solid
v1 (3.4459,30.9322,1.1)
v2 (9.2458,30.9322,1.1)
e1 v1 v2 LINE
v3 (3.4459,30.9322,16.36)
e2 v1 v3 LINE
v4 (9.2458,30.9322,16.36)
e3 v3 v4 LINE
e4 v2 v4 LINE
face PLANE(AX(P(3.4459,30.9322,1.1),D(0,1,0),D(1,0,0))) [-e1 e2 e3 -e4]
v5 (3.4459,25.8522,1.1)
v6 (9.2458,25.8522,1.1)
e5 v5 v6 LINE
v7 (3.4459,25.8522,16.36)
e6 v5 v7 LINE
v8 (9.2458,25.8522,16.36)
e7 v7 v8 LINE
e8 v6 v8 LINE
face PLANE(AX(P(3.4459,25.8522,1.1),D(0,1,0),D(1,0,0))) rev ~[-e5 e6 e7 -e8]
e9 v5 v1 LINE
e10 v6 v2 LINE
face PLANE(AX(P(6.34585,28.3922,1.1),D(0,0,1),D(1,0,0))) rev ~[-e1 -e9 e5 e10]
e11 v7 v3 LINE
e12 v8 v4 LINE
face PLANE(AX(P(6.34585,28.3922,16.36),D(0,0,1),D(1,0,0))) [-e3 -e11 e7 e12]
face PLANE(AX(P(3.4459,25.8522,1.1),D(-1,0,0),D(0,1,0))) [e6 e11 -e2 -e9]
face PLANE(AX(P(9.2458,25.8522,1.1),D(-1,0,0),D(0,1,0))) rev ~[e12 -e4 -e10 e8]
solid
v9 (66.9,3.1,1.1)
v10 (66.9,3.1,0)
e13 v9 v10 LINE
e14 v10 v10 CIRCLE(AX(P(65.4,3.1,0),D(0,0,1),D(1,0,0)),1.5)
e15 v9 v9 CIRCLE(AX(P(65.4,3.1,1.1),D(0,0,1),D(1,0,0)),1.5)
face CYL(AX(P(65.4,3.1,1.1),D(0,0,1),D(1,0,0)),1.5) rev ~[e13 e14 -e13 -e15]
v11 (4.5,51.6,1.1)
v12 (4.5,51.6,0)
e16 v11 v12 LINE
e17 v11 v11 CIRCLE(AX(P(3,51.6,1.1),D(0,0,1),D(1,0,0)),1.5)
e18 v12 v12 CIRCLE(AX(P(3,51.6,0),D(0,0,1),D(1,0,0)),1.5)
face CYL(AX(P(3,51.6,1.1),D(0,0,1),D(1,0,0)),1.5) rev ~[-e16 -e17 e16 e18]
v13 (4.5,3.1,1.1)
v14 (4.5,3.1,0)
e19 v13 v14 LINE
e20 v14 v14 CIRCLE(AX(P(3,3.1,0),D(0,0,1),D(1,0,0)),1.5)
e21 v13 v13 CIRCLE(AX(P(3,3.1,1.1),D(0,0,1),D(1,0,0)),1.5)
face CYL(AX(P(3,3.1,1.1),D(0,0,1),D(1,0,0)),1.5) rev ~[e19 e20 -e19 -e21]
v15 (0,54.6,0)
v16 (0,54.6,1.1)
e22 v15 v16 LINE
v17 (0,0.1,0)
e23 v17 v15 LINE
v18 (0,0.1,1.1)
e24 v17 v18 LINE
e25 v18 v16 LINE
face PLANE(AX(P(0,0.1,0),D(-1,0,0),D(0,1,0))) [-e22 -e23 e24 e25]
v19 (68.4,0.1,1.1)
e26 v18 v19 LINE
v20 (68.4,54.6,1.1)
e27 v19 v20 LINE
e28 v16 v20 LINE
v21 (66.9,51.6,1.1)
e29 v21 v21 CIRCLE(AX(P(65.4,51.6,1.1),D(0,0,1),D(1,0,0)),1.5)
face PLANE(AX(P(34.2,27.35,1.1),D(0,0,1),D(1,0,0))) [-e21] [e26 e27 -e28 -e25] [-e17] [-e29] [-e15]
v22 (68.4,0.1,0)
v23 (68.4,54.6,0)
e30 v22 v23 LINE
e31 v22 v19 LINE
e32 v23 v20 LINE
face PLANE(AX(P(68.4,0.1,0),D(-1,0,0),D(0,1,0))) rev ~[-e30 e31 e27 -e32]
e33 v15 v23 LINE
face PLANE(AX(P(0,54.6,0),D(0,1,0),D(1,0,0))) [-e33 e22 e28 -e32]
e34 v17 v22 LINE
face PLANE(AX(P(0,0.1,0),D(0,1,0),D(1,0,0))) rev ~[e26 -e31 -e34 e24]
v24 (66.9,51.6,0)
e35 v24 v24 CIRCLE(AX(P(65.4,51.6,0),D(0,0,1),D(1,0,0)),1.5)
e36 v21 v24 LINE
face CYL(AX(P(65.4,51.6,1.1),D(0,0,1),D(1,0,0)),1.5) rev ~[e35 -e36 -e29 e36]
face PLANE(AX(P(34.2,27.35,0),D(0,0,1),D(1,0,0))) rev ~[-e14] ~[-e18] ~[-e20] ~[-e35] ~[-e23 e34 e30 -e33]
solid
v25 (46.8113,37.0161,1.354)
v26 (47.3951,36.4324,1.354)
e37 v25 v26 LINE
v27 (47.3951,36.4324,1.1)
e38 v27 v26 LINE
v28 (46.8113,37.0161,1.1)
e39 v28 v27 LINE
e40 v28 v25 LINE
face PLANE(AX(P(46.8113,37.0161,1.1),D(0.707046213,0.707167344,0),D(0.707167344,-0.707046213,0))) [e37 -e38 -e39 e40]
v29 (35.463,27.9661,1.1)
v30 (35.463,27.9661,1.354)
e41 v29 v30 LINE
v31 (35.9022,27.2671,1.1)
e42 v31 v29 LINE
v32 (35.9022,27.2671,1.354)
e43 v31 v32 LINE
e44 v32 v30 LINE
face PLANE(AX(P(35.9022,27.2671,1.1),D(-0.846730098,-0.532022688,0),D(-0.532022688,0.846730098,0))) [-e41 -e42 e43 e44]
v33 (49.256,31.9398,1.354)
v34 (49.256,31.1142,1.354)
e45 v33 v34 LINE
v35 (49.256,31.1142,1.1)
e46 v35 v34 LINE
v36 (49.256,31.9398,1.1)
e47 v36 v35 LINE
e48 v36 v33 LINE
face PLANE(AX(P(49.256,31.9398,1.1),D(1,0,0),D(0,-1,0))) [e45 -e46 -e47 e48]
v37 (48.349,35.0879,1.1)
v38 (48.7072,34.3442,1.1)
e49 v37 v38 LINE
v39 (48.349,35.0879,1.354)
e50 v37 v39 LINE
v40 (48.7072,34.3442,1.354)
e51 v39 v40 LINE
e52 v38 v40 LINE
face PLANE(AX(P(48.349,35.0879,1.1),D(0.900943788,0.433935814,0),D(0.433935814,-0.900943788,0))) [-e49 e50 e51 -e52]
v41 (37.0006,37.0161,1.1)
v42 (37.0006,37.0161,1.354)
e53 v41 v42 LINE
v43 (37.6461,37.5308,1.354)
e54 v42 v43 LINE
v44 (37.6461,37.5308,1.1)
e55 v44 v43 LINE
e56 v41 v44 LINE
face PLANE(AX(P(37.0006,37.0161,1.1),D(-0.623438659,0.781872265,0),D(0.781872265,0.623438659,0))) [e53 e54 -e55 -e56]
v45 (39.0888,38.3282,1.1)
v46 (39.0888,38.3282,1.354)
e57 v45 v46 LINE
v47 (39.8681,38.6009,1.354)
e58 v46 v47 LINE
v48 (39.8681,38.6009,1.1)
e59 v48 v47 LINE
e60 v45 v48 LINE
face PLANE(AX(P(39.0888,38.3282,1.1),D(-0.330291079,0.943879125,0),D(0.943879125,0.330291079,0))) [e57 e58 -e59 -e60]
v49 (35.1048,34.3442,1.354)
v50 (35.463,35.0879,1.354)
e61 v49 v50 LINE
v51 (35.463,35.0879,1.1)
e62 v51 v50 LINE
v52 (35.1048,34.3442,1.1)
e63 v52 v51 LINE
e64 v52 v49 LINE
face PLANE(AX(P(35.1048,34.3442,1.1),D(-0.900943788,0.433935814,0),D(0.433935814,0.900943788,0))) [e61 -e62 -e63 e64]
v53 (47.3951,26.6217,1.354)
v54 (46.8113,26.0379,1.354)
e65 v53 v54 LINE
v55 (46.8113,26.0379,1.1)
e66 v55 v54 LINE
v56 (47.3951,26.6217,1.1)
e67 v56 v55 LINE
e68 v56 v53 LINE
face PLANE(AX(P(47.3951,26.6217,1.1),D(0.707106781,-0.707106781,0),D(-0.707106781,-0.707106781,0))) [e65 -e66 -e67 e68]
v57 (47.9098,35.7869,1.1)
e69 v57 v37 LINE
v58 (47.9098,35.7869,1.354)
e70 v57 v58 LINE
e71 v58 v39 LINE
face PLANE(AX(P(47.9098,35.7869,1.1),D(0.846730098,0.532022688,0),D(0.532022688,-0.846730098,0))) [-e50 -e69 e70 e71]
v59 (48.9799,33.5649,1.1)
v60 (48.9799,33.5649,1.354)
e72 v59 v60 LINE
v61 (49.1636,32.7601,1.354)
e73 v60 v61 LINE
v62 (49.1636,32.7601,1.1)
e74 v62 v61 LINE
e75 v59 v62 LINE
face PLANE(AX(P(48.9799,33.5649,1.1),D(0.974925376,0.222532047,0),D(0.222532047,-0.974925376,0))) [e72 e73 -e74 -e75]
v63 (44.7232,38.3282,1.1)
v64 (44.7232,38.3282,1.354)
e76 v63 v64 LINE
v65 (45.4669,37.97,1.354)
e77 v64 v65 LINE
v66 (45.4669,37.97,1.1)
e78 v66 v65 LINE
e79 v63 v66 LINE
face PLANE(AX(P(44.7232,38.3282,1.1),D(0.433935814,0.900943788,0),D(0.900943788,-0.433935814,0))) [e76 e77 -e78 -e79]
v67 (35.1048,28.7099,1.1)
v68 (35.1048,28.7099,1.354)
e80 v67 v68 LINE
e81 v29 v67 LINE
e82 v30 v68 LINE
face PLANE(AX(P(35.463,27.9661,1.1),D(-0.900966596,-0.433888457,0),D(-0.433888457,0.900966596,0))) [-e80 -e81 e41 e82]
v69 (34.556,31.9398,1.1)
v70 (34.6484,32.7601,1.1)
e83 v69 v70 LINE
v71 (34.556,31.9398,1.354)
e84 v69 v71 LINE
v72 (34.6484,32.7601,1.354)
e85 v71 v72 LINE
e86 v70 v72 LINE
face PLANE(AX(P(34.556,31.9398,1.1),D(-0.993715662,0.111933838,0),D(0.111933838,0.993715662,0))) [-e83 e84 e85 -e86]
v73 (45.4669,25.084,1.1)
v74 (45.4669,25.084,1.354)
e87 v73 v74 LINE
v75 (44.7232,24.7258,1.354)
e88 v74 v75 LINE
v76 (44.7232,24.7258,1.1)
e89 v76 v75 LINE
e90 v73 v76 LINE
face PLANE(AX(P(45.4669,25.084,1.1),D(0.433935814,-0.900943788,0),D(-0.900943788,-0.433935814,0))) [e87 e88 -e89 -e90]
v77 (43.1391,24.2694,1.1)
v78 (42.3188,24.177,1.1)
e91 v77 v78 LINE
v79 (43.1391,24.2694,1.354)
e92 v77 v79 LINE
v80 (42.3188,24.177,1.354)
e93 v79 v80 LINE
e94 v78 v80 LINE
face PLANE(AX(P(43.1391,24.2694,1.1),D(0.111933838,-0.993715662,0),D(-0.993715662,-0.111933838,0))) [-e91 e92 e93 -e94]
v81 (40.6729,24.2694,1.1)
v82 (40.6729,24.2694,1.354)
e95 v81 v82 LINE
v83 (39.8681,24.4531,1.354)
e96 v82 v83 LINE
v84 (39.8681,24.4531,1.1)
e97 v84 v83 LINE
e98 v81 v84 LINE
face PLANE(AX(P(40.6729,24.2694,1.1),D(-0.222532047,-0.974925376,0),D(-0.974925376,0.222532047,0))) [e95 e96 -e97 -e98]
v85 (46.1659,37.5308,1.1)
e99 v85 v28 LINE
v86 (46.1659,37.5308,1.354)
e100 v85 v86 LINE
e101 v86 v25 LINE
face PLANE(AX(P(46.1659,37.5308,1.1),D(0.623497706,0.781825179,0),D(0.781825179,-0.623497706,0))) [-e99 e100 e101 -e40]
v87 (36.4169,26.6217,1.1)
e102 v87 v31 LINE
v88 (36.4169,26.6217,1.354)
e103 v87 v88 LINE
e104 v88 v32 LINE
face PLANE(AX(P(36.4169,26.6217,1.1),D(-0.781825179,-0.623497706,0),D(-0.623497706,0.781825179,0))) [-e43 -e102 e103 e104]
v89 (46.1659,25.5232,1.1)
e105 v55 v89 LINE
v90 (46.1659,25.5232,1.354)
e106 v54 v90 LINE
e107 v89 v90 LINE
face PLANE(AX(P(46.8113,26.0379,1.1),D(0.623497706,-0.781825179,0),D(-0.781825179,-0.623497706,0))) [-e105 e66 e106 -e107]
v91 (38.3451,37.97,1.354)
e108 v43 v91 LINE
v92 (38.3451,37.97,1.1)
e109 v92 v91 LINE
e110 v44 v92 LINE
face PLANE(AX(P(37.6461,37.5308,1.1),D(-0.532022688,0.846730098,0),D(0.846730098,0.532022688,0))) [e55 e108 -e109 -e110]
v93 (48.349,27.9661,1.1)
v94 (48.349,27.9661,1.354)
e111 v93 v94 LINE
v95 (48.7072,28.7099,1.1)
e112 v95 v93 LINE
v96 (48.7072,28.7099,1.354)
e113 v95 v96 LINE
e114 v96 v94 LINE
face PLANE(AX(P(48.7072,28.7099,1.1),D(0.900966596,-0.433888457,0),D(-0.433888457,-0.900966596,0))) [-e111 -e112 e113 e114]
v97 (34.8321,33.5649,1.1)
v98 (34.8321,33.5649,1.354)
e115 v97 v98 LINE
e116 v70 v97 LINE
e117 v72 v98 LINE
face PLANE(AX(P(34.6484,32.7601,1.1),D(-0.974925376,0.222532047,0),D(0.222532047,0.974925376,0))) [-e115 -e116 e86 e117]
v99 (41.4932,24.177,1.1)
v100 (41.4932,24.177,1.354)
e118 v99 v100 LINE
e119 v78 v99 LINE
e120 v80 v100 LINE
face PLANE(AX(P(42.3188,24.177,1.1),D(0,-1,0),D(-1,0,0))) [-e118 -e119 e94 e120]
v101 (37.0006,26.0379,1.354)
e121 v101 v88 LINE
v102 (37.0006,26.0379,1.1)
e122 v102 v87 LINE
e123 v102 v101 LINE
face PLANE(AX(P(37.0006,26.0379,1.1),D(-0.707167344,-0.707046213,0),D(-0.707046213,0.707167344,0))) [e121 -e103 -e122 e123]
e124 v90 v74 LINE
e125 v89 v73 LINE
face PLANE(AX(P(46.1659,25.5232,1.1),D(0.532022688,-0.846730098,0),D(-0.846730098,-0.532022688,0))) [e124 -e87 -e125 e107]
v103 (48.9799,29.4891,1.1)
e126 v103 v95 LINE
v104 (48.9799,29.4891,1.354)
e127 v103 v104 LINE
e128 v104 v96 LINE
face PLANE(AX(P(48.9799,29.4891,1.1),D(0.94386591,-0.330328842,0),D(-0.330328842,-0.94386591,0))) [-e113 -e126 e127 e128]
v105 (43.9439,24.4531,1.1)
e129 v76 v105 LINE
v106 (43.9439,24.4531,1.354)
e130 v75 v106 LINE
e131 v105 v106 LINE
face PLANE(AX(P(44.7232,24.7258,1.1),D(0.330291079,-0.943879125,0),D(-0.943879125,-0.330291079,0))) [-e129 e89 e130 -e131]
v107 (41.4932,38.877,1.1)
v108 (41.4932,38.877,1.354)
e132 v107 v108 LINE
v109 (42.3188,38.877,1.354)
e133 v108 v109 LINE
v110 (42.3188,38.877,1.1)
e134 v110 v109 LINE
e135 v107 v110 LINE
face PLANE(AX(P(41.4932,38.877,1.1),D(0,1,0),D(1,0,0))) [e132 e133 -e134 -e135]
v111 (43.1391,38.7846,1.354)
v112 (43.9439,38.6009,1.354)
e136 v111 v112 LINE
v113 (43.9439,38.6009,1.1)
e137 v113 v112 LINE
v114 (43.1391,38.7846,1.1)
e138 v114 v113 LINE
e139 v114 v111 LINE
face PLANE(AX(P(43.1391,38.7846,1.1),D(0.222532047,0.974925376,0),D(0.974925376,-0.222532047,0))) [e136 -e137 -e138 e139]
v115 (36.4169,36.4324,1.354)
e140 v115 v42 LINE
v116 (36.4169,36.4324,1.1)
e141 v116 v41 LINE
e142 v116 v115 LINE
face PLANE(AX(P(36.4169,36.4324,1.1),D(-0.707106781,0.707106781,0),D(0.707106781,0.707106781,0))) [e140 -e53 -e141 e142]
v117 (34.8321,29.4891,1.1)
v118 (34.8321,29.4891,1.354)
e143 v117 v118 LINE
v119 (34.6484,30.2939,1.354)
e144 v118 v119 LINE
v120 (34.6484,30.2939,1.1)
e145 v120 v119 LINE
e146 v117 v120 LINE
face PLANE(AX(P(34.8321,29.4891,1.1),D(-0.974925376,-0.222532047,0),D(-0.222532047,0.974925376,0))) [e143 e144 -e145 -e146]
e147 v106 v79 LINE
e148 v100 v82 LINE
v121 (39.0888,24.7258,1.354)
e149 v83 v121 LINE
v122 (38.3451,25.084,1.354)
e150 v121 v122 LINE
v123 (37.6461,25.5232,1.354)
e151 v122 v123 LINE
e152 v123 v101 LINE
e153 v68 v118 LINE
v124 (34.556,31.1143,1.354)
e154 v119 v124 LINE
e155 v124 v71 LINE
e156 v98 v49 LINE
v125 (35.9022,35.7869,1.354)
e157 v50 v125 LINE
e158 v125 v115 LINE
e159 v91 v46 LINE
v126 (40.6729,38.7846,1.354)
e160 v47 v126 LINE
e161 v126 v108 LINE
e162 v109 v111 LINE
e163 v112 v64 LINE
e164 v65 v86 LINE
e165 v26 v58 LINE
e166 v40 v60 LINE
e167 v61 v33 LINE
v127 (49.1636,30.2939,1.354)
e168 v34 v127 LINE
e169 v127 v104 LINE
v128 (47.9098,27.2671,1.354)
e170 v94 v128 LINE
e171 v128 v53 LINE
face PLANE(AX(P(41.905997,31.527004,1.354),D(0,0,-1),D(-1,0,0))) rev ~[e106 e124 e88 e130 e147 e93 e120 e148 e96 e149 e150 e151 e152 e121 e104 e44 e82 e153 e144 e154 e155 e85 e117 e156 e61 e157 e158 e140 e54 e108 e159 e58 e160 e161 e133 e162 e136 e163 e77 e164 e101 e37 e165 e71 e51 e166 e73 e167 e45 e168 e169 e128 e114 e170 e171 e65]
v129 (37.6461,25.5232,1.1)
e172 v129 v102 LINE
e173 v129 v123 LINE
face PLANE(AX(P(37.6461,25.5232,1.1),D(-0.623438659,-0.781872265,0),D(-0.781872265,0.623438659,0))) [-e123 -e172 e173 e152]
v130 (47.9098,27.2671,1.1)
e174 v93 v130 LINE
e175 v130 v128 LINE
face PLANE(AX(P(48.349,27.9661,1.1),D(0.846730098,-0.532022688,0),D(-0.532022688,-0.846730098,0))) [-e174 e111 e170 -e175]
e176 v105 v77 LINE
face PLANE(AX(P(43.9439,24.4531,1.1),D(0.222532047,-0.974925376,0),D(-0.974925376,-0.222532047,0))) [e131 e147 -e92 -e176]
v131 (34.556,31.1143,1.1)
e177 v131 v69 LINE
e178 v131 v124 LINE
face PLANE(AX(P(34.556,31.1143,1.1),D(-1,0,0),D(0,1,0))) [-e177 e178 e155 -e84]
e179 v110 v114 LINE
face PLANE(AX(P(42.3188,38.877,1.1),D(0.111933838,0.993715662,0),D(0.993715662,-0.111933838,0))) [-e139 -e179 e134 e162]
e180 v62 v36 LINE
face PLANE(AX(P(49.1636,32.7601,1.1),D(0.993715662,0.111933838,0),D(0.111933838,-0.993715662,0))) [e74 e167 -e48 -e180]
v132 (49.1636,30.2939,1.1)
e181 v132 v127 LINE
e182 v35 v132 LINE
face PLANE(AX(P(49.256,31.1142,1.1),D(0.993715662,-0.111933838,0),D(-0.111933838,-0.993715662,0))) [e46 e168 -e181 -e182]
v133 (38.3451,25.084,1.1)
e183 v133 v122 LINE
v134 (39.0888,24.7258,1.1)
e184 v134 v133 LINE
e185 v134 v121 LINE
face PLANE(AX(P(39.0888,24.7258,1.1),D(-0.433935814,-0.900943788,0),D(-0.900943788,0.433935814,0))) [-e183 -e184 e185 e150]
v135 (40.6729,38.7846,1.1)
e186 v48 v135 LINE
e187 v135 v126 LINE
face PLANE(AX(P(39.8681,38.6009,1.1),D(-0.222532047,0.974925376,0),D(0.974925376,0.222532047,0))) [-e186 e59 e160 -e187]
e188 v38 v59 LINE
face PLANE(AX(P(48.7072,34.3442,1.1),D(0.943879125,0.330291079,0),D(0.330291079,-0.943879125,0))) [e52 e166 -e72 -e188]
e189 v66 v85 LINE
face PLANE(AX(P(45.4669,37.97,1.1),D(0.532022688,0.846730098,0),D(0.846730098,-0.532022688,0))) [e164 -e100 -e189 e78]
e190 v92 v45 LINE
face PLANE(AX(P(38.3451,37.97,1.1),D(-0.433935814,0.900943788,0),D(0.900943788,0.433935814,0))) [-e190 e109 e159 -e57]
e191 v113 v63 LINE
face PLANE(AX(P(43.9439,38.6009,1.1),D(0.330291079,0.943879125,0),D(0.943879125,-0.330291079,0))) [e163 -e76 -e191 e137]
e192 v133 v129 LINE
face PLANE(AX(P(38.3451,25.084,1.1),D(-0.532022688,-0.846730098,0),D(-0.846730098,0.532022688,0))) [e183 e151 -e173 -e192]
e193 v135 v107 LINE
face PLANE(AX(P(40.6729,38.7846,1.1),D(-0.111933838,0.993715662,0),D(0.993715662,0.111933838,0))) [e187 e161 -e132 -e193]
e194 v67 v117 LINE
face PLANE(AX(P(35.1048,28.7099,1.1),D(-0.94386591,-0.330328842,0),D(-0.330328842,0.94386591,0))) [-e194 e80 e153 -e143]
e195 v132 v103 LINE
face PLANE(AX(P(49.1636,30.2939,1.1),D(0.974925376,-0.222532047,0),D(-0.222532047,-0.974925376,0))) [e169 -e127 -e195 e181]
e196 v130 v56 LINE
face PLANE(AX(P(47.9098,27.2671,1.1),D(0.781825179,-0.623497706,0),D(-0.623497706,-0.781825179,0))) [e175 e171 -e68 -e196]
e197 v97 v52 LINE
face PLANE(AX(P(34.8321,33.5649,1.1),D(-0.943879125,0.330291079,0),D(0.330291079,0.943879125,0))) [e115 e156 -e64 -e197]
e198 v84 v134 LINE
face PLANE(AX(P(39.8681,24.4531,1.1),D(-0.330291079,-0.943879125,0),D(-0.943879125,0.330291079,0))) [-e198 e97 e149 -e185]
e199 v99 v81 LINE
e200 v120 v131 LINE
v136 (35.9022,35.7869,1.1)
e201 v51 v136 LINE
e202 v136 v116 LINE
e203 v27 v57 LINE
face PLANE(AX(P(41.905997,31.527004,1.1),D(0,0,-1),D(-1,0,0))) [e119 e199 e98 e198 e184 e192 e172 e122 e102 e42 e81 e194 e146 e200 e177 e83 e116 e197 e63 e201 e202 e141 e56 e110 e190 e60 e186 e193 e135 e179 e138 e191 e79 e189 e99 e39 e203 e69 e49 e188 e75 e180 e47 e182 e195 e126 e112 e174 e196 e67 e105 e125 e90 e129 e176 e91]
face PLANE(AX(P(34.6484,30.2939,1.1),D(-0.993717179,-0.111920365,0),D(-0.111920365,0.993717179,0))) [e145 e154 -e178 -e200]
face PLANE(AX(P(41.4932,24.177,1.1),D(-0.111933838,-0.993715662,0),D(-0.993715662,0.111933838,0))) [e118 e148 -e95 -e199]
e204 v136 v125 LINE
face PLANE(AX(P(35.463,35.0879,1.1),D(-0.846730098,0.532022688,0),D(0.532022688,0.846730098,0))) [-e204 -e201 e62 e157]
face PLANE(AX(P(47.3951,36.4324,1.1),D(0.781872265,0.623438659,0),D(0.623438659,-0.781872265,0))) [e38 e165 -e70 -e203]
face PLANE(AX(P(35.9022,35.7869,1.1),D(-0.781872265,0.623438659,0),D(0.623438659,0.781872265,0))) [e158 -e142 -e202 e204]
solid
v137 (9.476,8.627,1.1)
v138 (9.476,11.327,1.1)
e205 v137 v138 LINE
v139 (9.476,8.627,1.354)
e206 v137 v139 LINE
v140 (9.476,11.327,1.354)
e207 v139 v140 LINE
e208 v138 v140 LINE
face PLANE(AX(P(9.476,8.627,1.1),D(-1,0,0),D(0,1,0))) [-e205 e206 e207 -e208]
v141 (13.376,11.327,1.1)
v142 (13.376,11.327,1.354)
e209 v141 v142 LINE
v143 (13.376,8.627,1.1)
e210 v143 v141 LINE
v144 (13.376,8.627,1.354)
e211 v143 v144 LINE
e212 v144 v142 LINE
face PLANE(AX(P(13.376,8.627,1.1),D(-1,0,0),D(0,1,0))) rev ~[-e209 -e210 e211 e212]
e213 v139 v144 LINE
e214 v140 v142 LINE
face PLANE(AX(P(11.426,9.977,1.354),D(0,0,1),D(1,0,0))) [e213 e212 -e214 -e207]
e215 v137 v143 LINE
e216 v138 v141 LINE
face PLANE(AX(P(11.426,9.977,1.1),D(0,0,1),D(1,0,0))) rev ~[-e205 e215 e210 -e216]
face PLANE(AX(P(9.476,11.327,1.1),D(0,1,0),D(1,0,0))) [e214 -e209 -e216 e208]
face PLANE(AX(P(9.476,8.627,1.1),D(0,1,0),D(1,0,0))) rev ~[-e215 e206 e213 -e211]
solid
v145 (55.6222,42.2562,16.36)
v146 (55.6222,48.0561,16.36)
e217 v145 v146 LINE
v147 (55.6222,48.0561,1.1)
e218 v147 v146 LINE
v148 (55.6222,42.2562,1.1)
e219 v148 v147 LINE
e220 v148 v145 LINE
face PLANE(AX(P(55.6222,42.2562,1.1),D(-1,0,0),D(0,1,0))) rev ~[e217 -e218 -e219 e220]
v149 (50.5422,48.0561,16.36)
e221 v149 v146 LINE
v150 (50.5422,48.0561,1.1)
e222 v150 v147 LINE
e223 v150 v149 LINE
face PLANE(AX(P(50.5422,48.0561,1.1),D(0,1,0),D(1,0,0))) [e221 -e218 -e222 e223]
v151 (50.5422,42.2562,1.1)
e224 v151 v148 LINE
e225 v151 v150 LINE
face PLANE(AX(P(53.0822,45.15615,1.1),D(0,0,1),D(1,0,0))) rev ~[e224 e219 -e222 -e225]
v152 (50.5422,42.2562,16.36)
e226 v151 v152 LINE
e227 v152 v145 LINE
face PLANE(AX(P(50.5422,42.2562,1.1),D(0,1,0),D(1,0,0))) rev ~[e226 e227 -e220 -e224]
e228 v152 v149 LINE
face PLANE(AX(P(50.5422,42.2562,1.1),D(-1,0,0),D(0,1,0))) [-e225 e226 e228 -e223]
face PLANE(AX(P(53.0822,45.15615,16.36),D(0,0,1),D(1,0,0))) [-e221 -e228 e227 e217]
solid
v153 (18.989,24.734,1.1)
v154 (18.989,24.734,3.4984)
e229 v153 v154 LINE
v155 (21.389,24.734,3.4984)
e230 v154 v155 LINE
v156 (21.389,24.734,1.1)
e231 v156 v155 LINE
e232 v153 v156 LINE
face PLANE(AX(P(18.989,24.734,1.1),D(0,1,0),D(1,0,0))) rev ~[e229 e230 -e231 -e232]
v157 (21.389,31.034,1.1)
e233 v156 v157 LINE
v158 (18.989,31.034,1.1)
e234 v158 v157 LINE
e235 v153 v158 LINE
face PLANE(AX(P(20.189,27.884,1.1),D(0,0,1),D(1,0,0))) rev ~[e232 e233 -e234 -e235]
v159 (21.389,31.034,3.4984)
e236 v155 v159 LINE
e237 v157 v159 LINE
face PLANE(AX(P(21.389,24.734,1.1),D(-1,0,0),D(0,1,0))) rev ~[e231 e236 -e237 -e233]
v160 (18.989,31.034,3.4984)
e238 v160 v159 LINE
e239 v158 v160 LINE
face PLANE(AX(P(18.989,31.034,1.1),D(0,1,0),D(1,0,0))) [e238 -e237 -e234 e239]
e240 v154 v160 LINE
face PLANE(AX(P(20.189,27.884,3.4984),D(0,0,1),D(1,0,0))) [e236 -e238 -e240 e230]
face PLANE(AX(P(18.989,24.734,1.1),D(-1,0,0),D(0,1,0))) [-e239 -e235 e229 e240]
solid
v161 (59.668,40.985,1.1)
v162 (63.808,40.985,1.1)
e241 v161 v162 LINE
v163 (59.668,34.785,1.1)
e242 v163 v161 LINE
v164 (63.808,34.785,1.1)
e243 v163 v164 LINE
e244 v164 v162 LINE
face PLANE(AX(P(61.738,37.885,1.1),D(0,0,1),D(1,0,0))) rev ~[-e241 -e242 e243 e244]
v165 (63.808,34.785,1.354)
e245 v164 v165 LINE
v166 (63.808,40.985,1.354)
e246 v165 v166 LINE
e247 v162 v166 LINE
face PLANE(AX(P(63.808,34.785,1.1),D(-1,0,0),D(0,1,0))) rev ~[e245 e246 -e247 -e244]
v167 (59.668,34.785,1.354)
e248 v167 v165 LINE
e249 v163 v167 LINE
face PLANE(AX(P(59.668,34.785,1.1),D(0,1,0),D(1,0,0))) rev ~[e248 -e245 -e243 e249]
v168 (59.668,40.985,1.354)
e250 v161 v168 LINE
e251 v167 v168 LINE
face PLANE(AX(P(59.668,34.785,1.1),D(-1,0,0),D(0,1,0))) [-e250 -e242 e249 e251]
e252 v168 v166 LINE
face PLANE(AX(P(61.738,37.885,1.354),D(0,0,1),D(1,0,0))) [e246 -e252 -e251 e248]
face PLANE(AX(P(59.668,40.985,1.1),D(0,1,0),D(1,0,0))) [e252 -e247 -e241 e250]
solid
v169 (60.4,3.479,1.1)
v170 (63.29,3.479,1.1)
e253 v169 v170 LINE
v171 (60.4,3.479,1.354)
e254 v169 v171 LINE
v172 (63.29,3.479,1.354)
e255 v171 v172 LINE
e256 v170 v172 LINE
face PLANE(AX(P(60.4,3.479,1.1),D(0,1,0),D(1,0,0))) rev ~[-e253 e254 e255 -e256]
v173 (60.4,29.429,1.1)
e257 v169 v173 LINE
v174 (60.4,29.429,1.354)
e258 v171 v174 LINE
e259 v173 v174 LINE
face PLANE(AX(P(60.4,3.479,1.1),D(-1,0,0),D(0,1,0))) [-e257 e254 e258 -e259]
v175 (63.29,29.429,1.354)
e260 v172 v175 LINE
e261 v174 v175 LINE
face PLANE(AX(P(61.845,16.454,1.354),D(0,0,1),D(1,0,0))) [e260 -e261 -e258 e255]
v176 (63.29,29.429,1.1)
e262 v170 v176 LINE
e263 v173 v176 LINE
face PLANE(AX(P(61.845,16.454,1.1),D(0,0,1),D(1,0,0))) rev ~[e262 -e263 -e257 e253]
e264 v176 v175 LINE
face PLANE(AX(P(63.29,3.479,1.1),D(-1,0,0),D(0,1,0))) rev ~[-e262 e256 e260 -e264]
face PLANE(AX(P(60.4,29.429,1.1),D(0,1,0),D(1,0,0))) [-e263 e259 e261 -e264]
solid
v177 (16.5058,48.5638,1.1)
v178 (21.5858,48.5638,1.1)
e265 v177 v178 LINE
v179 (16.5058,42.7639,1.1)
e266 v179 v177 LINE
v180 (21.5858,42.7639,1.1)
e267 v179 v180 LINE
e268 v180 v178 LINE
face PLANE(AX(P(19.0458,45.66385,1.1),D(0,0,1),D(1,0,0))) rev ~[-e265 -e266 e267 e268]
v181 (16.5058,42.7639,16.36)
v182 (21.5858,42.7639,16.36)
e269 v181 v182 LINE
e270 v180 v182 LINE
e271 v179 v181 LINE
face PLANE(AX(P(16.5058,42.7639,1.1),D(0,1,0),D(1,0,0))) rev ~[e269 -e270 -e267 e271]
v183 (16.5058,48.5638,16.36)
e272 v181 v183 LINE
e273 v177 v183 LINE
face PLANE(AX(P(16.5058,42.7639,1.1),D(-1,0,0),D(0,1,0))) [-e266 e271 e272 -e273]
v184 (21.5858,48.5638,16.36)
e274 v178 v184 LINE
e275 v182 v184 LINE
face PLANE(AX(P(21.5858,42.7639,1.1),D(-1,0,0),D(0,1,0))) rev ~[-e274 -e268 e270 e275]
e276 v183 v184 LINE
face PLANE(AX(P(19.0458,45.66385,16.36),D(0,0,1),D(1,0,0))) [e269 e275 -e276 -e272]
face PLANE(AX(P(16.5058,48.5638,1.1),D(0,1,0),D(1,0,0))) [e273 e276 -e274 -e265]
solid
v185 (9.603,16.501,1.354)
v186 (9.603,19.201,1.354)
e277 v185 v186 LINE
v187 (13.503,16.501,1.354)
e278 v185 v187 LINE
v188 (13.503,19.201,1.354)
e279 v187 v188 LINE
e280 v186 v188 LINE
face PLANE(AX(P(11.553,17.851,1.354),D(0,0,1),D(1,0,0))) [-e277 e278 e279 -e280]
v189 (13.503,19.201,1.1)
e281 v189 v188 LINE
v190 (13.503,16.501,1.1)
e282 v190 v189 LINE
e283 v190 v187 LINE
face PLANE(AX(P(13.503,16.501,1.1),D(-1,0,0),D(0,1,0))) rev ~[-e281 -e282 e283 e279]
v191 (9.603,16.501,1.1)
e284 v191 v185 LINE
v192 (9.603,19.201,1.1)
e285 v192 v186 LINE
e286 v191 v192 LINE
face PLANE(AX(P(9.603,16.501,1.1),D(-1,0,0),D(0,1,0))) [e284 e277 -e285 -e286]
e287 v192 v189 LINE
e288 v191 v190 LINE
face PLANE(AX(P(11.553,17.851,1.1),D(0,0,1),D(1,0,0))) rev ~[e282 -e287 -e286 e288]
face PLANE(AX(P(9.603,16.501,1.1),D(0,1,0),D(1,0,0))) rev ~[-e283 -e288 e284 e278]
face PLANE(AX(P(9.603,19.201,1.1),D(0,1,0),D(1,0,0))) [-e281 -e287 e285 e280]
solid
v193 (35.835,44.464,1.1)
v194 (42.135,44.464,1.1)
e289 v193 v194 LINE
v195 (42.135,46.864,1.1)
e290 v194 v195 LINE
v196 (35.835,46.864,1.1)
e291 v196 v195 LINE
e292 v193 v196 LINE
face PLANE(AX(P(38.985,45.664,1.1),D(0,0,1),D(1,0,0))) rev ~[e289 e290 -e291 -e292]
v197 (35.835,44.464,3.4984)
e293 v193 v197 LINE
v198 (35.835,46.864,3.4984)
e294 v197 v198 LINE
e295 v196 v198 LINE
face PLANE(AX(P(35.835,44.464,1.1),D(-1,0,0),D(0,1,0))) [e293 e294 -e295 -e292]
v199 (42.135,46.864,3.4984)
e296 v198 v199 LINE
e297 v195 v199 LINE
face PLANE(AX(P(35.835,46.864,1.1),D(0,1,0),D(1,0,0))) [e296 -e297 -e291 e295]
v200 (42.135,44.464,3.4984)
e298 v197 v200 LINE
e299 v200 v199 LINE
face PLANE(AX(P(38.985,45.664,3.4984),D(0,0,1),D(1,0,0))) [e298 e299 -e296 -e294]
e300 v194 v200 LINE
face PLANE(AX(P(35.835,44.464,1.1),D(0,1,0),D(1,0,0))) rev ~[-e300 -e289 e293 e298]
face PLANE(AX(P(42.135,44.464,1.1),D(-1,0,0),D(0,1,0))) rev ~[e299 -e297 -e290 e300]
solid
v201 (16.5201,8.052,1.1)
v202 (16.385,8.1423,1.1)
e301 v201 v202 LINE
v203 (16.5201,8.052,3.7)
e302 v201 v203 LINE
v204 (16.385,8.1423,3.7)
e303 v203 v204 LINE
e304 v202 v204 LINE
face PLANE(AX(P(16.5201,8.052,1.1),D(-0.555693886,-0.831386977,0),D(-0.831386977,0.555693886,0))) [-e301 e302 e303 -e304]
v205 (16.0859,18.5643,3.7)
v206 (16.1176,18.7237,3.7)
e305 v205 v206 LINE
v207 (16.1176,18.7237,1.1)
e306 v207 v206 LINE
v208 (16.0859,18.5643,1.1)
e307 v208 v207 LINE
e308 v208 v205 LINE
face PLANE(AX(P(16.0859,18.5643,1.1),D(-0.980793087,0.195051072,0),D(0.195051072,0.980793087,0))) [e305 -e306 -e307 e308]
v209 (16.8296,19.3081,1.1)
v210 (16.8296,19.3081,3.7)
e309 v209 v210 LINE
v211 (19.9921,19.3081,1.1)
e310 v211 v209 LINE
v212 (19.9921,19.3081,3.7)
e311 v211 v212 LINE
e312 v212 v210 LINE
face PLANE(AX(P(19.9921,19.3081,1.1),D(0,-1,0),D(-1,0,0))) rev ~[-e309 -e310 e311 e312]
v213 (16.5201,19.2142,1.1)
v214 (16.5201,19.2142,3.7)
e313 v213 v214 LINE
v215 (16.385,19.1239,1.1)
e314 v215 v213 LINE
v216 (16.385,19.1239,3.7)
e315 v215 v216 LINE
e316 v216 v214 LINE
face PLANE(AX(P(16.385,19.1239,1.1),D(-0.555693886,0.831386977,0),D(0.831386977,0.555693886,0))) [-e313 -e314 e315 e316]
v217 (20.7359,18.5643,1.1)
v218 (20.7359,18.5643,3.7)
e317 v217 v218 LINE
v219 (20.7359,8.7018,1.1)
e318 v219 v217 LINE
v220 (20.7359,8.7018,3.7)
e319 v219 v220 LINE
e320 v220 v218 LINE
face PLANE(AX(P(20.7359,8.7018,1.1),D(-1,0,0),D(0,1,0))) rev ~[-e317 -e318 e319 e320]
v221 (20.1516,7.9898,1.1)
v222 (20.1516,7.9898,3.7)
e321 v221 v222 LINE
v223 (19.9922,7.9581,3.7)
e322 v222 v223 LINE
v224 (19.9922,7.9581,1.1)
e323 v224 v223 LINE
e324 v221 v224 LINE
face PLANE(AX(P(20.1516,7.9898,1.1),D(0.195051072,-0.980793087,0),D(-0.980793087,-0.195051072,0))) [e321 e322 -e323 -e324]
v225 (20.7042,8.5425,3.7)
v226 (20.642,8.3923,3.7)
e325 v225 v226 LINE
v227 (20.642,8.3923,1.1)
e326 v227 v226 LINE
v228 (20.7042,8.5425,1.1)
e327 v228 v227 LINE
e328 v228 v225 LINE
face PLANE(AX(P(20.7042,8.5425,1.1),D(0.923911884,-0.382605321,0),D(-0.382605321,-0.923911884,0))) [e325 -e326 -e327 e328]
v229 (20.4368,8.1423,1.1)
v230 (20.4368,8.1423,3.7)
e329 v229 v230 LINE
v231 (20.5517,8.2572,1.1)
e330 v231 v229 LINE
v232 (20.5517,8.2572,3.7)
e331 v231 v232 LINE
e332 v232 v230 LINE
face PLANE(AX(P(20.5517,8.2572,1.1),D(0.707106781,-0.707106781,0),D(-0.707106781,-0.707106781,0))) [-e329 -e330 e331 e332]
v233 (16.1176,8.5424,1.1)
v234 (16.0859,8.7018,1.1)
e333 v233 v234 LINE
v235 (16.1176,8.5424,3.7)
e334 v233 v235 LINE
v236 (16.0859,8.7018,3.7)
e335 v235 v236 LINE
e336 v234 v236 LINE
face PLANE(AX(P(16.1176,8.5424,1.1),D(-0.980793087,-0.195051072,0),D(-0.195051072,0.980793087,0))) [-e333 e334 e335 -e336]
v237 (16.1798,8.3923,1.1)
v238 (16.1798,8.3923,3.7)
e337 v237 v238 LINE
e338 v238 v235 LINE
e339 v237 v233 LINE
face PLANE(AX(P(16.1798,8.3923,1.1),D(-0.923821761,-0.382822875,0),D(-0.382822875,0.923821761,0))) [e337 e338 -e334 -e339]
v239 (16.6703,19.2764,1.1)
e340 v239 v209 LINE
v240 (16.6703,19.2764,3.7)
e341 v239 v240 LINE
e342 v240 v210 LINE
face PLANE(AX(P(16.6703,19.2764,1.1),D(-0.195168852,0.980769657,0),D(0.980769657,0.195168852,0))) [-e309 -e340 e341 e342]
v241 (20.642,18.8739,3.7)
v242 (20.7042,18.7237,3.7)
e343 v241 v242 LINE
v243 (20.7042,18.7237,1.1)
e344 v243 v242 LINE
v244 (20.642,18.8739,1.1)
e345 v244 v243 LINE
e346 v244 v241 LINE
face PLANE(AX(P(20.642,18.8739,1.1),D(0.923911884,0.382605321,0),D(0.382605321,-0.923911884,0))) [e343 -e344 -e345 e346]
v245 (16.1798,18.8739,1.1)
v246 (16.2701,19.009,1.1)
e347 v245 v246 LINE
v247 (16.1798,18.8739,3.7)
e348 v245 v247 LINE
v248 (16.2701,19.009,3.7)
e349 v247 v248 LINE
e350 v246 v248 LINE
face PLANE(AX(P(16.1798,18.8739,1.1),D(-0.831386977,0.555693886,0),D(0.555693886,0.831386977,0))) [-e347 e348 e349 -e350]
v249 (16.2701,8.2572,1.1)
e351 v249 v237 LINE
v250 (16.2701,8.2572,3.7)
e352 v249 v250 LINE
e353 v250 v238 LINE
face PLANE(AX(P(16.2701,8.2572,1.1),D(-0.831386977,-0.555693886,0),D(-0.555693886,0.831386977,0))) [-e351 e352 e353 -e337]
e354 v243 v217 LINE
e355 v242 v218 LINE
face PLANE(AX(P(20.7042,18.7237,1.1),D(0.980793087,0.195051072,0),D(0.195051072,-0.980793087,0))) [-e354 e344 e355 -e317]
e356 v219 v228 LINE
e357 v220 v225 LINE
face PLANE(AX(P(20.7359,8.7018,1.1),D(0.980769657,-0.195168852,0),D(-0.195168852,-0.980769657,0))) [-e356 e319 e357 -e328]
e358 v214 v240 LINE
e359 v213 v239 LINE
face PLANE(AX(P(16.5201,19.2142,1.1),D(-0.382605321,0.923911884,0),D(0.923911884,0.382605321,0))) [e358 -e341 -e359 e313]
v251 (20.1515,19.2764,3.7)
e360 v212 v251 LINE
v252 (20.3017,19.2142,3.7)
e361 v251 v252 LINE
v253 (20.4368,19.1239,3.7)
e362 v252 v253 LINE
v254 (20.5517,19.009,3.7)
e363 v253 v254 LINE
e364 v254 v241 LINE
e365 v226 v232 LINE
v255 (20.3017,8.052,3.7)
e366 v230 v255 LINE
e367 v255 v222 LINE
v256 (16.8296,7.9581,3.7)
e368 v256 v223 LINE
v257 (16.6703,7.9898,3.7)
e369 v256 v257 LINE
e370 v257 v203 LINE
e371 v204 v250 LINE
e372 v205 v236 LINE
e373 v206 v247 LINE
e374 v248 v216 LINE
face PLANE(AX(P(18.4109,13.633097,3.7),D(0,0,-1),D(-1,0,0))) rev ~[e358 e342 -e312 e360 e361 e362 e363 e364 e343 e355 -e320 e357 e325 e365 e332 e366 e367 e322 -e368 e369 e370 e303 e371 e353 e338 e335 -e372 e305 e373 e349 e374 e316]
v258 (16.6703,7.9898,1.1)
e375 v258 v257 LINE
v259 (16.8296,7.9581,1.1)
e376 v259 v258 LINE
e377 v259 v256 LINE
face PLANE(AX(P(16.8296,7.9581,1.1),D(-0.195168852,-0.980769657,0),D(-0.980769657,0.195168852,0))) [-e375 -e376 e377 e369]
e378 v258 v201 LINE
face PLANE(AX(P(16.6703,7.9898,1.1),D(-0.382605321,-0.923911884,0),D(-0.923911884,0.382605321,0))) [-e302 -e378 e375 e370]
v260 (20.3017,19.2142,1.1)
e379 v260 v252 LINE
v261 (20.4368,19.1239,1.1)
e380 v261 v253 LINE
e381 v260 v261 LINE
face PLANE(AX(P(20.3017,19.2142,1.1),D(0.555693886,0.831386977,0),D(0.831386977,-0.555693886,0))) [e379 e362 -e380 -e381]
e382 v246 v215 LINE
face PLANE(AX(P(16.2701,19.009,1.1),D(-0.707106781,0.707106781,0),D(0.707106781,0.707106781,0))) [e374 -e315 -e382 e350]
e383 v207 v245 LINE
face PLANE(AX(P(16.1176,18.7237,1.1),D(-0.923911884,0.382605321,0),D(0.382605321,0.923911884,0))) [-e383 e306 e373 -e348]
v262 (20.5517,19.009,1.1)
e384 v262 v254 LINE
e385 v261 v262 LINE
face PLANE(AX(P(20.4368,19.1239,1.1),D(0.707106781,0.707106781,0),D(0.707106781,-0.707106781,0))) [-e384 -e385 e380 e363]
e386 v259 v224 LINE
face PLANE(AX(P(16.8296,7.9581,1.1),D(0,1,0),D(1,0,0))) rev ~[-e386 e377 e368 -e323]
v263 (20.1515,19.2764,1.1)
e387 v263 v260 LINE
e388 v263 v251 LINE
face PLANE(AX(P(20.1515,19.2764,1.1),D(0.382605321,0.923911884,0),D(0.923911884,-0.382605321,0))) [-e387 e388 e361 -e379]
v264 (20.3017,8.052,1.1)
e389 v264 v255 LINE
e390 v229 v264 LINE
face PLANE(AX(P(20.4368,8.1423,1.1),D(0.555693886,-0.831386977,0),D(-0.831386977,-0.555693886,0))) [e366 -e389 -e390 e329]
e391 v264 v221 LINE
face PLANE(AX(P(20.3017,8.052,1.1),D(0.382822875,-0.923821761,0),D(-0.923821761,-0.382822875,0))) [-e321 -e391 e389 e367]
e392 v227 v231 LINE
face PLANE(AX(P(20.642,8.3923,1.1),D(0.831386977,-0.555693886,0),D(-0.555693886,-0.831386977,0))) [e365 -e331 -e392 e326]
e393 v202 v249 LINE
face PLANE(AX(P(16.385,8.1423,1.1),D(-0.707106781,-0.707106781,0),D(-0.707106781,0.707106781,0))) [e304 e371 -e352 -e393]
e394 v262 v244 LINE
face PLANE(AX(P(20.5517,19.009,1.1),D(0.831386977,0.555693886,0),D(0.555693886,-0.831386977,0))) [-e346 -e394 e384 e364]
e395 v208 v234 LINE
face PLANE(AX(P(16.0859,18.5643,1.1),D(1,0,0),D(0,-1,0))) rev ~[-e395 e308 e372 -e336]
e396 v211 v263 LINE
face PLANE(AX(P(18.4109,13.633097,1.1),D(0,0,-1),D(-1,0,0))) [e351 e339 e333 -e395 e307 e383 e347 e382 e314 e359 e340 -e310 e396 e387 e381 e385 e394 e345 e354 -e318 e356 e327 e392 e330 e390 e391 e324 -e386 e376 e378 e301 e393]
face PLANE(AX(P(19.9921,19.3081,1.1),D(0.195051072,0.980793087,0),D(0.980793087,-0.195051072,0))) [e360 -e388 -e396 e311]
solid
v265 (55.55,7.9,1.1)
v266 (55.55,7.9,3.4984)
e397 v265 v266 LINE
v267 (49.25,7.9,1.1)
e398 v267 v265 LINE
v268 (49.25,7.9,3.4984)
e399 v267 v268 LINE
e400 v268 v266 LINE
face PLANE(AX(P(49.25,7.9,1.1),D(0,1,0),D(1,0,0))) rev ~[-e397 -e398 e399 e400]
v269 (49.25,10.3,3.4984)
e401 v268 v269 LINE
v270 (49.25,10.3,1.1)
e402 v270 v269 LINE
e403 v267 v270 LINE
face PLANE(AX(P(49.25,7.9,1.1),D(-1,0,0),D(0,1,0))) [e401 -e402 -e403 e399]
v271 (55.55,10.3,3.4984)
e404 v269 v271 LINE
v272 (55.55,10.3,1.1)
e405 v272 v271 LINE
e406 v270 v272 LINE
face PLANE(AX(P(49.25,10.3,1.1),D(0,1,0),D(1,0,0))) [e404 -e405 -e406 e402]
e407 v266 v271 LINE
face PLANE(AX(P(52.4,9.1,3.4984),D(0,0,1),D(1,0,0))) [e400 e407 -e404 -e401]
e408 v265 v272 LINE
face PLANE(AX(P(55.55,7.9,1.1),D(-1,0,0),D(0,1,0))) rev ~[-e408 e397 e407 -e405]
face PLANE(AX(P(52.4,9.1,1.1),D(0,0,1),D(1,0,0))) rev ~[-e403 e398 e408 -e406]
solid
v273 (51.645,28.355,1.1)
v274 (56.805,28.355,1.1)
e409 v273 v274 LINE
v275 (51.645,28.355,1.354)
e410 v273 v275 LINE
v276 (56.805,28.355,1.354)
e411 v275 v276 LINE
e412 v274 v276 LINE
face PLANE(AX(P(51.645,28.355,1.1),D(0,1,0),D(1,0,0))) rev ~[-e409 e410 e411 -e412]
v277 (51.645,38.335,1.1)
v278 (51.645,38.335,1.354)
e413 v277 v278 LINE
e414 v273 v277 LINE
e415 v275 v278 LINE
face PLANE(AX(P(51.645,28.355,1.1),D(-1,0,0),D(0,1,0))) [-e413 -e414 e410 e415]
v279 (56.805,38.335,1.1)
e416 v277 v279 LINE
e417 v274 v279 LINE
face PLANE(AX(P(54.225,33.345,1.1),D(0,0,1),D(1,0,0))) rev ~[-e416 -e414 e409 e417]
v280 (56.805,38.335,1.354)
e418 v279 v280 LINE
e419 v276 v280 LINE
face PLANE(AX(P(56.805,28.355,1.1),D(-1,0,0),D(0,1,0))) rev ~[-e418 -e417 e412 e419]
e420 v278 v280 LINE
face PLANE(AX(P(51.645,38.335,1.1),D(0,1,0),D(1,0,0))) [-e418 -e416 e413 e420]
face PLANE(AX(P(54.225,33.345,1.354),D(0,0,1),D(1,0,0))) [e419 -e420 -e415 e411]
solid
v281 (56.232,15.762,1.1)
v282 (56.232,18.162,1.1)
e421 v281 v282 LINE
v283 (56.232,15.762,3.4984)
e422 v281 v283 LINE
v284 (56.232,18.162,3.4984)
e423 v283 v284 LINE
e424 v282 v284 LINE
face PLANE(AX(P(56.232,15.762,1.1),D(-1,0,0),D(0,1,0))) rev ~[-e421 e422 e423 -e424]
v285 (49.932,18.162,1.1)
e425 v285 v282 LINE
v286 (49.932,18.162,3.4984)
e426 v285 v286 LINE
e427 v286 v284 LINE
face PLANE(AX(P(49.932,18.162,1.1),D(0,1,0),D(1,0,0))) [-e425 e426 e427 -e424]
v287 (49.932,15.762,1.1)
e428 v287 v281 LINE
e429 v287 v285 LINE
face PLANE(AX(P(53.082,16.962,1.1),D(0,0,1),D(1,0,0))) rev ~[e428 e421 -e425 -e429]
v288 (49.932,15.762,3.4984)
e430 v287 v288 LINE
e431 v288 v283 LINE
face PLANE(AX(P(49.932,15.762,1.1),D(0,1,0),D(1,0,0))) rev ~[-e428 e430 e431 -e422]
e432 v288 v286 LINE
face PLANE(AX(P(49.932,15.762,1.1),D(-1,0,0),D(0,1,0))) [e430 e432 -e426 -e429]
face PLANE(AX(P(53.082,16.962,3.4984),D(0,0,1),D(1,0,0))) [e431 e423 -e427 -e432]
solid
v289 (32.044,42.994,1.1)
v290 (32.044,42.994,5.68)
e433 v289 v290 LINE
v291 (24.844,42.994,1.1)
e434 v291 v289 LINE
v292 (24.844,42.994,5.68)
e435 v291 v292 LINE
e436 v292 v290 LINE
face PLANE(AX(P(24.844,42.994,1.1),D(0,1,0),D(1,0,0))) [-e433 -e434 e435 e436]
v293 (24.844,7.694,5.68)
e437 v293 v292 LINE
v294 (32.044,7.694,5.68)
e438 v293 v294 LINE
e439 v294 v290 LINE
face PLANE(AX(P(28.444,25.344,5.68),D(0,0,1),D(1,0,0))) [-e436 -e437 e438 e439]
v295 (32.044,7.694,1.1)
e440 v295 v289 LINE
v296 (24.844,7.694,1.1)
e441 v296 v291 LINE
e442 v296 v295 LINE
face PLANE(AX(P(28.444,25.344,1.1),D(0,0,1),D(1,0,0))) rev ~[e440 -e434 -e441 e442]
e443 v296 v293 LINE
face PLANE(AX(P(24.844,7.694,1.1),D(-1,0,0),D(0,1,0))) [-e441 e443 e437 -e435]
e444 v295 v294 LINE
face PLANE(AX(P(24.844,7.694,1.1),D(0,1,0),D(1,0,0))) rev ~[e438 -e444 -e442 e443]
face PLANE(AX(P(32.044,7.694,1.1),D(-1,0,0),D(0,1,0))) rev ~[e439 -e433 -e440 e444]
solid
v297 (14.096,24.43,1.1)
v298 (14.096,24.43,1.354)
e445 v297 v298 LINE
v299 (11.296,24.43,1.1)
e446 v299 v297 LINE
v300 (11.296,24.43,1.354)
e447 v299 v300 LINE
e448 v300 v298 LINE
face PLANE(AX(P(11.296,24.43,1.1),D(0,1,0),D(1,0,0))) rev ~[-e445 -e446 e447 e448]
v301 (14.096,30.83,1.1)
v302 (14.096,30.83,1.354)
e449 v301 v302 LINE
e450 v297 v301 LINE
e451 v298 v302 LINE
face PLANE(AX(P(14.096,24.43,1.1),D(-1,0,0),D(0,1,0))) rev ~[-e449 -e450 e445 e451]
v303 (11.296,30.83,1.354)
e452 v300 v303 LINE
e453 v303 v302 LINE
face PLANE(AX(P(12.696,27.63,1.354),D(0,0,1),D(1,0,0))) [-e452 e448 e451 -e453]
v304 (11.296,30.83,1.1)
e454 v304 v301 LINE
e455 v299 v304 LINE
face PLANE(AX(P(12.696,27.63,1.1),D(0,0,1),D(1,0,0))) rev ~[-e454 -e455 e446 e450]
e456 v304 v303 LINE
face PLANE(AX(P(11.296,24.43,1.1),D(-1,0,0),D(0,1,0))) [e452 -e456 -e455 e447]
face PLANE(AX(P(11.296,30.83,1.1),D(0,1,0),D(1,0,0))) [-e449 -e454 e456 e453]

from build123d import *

# Parameters (mm, degrees)
SKETCH1_W                     = 68.4
SKETCH1_H                     = 54.5
BOARD_DEPTH                   = 1.1
SKETCH2_W                     = 2.89
SKETCH2_H                     = 25.95
FP_61301011121_MFG_1_DEPTH    = 0.254
SKETCH3_W                     = 5.16
SKETCH3_H                     = 9.98
FP_3296W_MFG_1_DEPTH          = 0.254
SKETCH4_W                     = 6.3
SKETCH4_H                     = 2.4
RESA60_630X240_1_DEPTH        = 2.3984
SKETCH5_W                     = 6.3
SKETCH5_H                     = 2.4
RESA60_630X240_2_DEPTH        = 2.3984
SKETCH6_W                     = 2.4
SKETCH6_H                     = 6.3
RESA60_630X240_3_DEPTH        = 2.3984
SKETCH7_W                     = 6.3
SKETCH7_H                     = 2.4
RESA60_630X240_4_DEPTH        = 2.3984
SKETCH8_W                     = 5.08
SKETCH8_H                     = 5.7999
MOLX_22_27_2021_V_1_DEPTH     = 15.26
SKETCH9_W                     = 5.08
SKETCH9_H                     = 5.7999
MOLX_22_27_2021_V_2_DEPTH     = 15.26
SKETCH10_W                    = 5.7999
SKETCH10_H                    = 5.08
MOLX_22_27_2021_V_3_DEPTH     = 15.26
SKETCH14_W                    = 4.14
SKETCH14_H                    = 6.2
FP_TMM_103_03_T_S_MFG_1_DEPTH = 0.254
FOX_FOXSLF160_20_1_DEPTH      = 2.6
SKETCH16_W                    = 7.2
SKETCH16_H                    = 35.3
EXTRUDE_28P3_1_DEPTH          = 4.58
SKETCH17_W                    = 2.8
SKETCH17_H                    = 6.4
FP_K15H5_MFG_1_DEPTH          = 0.254
SKETCH18_W                    = 3.9
SKETCH18_H                    = 2.7
FP_RCE0DB_MFG_1_DEPTH         = 0.254
SKETCH19_W                    = 3.9
SKETCH19_H                    = 2.7
FP_RCE0DB_MFG_2_DEPTH         = 0.254
FP_PS1440P02BT_MFG_1_DEPTH    = 0.254
SKETCH21_R                    = 1.5
CUT_EXTRUDE1_DEPTH            = 1.1


with BuildPart() as part:
    # Sketch1 → BOARD (new body)
    with BuildSketch(Plane.XY):
        with Locations((34.2, 27.35)):
            Rectangle(SKETCH1_W, SKETCH1_H)
    extrude(amount=BOARD_DEPTH)

    # Sketch21 → Cut-Extrude1 (cut)
    with BuildSketch(Plane.XY.offset(1.1)):
        with Locations((65.4, 51.6)):
            Circle(SKETCH21_R)
        with Locations((3, 51.6)):
            Circle(SKETCH21_R)
        with Locations((3, 3.1)):
            Circle(SKETCH21_R)
        with Locations((65.4, 3.1)):
            Circle(SKETCH21_R)
    extrude(amount=-CUT_EXTRUDE1_DEPTH, mode=Mode.SUBTRACT)


with BuildPart() as body_2:
    # Sketch2 → FP-61301011121-MFG-1 (new body)
    with BuildSketch(Plane.XY.offset(1.1)):
        with Locations((61.845, 16.454)):
            Rectangle(SKETCH2_W, SKETCH2_H)
    extrude(amount=FP_61301011121_MFG_1_DEPTH)


with BuildPart() as body_3:
    # Sketch3 → FP-3296W-MFG-1 (new body)
    with BuildSketch(Plane.XY.offset(1.1)):
        with Locations((54.225, 33.345)):
            Rectangle(SKETCH3_W, SKETCH3_H)
    extrude(amount=FP_3296W_MFG_1_DEPTH)


with BuildPart() as body_4:
    # Sketch4 → RESA60-630X240-1 (new body)
    with BuildSketch(Plane.XY.offset(1.1)):
        with Locations((52.4, 9.1)):
            Rectangle(SKETCH4_W, SKETCH4_H)
    extrude(amount=RESA60_630X240_1_DEPTH)


with BuildPart() as body_5:
    # Sketch5 → RESA60-630X240-2 (new body)
    with BuildSketch(Plane.XY.offset(1.1)):
        with Locations((53.082, 16.962)):
            Rectangle(SKETCH5_W, SKETCH5_H)
    extrude(amount=RESA60_630X240_2_DEPTH)


with BuildPart() as body_6:
    # Sketch6 → RESA60-630X240-3 (new body)
    with BuildSketch(Plane.XY.offset(1.1)):
        with Locations((20.189, 27.884)):
            Rectangle(SKETCH6_W, SKETCH6_H)
    extrude(amount=RESA60_630X240_3_DEPTH)


with BuildPart() as body_7:
    # Sketch7 → RESA60-630X240-4 (new body)
    with BuildSketch(Plane.XY.offset(1.1)):
        with Locations((38.985, 45.664)):
            Rectangle(SKETCH7_W, SKETCH7_H)
    extrude(amount=RESA60_630X240_4_DEPTH)


with BuildPart() as body_8:
    # Sketch8 → MOLX-22-27-2021_V-1 (new body)
    with BuildSketch(Plane.XY.offset(1.1)):
        with Locations((53.0822, 45.15615)):
            Rectangle(SKETCH8_W, SKETCH8_H)
    extrude(amount=MOLX_22_27_2021_V_1_DEPTH)


with BuildPart() as body_9:
    # Sketch9 → MOLX-22-27-2021_V-2 (new body)
    with BuildSketch(Plane.XY.offset(1.1)):
        with Locations((19.0458, 45.66385)):
            Rectangle(SKETCH9_W, SKETCH9_H)
    extrude(amount=MOLX_22_27_2021_V_2_DEPTH)


with BuildPart() as body_10:
    # Sketch10 → MOLX-22-27-2021_V-3 (new body)
    with BuildSketch(Plane.XY.offset(1.1)):
        with Locations((6.34585, 28.3922)):
            Rectangle(SKETCH10_W, SKETCH10_H)
    extrude(amount=MOLX_22_27_2021_V_3_DEPTH)


with BuildPart() as body_11:
    # Sketch14 → FP-TMM-103-03-T-S-MFG-1 (new body)
    with BuildSketch(Plane.XY.offset(1.1)):
        with Locations((61.738, 37.885)):
            Rectangle(SKETCH14_W, SKETCH14_H)
    extrude(amount=FP_TMM_103_03_T_S_MFG_1_DEPTH)


with BuildPart() as body_12:
    # Sketch15 → FOX-FOXSLF160-20-1 (new body)
    with BuildSketch(Plane.XY.offset(1.1)):
        Polygon((20.1515, 19.2764), (20.3017, 19.2142), (20.4368, 19.1239), (20.5517, 19.009), (20.642, 18.8739), (20.7042, 18.7237), (20.7359, 18.5643), (20.7359, 18.4831), (20.7359, 8.7831), (20.7359, 8.7018), (20.7042, 8.5425), (20.642, 8.3923), (20.5517, 8.2572), (20.4368, 8.1423), (20.3017, 8.052), (20.1516, 7.9898), (19.9922, 7.9581), (19.9109, 7.9581), (16.9109, 7.9581), (16.8296, 7.9581), (16.6703, 7.9898), (16.5201, 8.052), (16.385, 8.1423), (16.2701, 8.2572), (16.1798, 8.3923), (16.1176, 8.5424), (16.0859, 8.7018), (16.0859, 8.783), (16.0859, 18.4831), (16.0859, 18.5643), (16.1176, 18.7237), (16.1798, 18.8739), (16.2701, 19.009), (16.385, 19.1239), (16.5201, 19.2142), (16.6703, 19.2764), (16.8296, 19.3081), (16.9109, 19.3081), (19.9109, 19.3081), (19.9921, 19.3081), align=None)
    extrude(amount=FOX_FOXSLF160_20_1_DEPTH)


with BuildPart() as body_13:
    # Sketch16 → Extrude 28P3-1 (new body)
    with BuildSketch(Plane.XY.offset(1.1)):
        with Locations((28.444, 25.344)):
            Rectangle(SKETCH16_W, SKETCH16_H)
    extrude(amount=EXTRUDE_28P3_1_DEPTH)


with BuildPart() as body_14:
    # Sketch17 → FP-K15H5-MFG-1 (new body)
    with BuildSketch(Plane.XY.offset(1.1)):
        with Locations((12.696, 27.63)):
            Rectangle(SKETCH17_W, SKETCH17_H)
    extrude(amount=FP_K15H5_MFG_1_DEPTH)


with BuildPart() as body_15:
    # Sketch18 → FP-RCE0DB-MFG-1 (new body)
    with BuildSketch(Plane.XY.offset(1.1)):
        with Locations((11.426, 9.977)):
            Rectangle(SKETCH18_W, SKETCH18_H)
    extrude(amount=FP_RCE0DB_MFG_1_DEPTH)


with BuildPart() as body_16:
    # Sketch19 → FP-RCE0DB-MFG-2 (new body)
    with BuildSketch(Plane.XY.offset(1.1)):
        with Locations((11.553, 17.851)):
            Rectangle(SKETCH19_W, SKETCH19_H)
    extrude(amount=FP_RCE0DB_MFG_2_DEPTH)


with BuildPart() as body_17:
    # Sketch20 → FP-PS1440P02BT-MFG-1 (new body)
    with BuildSketch(Plane.XY.offset(1.1)):
        Polygon((43.1391, 38.7846), (43.9439, 38.6009), (44.7232, 38.3282), (45.4669, 37.97), (46.1659, 37.5308), (46.8113, 37.0161), (47.3951, 36.4324), (47.9098, 35.7869), (48.349, 35.0879), (48.7072, 34.3442), (48.9799, 33.5649), (49.1636, 32.7601), (49.256, 31.9398), (49.256, 31.1142), (49.1636, 30.2939), (48.9799, 29.4891), (48.7072, 28.7099), (48.349, 27.9661), (47.9098, 27.2671), (47.3951, 26.6217), (46.8113, 26.0379), (46.1659, 25.5232), (45.4669, 25.084), (44.7232, 24.7258), (43.9439, 24.4531), (43.1391, 24.2694), (42.3188, 24.177), (41.4932, 24.177), (40.6729, 24.2694), (39.8681, 24.4531), (39.0888, 24.7258), (38.3451, 25.084), (37.6461, 25.5232), (37.0006, 26.0379), (36.4169, 26.6217), (35.9022, 27.2671), (35.463, 27.9661), (35.1048, 28.7099), (34.8321, 29.4891), (34.6484, 30.2939), (34.556, 31.1143), (34.556, 31.9398), (34.6484, 32.7601), (34.8321, 33.5649), (35.1048, 34.3442), (35.463, 35.0879), (35.9022, 35.7869), (36.4169, 36.4324), (37.0006, 37.0161), (37.6461, 37.5308), (38.3451, 37.97), (39.0888, 38.3282), (39.8681, 38.6009), (40.6729, 38.7846), (41.4932, 38.877), (42.3188, 38.877), align=None)
    extrude(amount=FP_PS1440P02BT_MFG_1_DEPTH)


solid = Compound([part.part, body_2.part, body_3.part, body_4.part, body_5.part, body_6.part, body_7.part, body_8.part, body_9.part, body_10.part, body_11.part, body_12.part, body_13.part, body_14.part, body_15.part, body_16.part, body_17.part])
